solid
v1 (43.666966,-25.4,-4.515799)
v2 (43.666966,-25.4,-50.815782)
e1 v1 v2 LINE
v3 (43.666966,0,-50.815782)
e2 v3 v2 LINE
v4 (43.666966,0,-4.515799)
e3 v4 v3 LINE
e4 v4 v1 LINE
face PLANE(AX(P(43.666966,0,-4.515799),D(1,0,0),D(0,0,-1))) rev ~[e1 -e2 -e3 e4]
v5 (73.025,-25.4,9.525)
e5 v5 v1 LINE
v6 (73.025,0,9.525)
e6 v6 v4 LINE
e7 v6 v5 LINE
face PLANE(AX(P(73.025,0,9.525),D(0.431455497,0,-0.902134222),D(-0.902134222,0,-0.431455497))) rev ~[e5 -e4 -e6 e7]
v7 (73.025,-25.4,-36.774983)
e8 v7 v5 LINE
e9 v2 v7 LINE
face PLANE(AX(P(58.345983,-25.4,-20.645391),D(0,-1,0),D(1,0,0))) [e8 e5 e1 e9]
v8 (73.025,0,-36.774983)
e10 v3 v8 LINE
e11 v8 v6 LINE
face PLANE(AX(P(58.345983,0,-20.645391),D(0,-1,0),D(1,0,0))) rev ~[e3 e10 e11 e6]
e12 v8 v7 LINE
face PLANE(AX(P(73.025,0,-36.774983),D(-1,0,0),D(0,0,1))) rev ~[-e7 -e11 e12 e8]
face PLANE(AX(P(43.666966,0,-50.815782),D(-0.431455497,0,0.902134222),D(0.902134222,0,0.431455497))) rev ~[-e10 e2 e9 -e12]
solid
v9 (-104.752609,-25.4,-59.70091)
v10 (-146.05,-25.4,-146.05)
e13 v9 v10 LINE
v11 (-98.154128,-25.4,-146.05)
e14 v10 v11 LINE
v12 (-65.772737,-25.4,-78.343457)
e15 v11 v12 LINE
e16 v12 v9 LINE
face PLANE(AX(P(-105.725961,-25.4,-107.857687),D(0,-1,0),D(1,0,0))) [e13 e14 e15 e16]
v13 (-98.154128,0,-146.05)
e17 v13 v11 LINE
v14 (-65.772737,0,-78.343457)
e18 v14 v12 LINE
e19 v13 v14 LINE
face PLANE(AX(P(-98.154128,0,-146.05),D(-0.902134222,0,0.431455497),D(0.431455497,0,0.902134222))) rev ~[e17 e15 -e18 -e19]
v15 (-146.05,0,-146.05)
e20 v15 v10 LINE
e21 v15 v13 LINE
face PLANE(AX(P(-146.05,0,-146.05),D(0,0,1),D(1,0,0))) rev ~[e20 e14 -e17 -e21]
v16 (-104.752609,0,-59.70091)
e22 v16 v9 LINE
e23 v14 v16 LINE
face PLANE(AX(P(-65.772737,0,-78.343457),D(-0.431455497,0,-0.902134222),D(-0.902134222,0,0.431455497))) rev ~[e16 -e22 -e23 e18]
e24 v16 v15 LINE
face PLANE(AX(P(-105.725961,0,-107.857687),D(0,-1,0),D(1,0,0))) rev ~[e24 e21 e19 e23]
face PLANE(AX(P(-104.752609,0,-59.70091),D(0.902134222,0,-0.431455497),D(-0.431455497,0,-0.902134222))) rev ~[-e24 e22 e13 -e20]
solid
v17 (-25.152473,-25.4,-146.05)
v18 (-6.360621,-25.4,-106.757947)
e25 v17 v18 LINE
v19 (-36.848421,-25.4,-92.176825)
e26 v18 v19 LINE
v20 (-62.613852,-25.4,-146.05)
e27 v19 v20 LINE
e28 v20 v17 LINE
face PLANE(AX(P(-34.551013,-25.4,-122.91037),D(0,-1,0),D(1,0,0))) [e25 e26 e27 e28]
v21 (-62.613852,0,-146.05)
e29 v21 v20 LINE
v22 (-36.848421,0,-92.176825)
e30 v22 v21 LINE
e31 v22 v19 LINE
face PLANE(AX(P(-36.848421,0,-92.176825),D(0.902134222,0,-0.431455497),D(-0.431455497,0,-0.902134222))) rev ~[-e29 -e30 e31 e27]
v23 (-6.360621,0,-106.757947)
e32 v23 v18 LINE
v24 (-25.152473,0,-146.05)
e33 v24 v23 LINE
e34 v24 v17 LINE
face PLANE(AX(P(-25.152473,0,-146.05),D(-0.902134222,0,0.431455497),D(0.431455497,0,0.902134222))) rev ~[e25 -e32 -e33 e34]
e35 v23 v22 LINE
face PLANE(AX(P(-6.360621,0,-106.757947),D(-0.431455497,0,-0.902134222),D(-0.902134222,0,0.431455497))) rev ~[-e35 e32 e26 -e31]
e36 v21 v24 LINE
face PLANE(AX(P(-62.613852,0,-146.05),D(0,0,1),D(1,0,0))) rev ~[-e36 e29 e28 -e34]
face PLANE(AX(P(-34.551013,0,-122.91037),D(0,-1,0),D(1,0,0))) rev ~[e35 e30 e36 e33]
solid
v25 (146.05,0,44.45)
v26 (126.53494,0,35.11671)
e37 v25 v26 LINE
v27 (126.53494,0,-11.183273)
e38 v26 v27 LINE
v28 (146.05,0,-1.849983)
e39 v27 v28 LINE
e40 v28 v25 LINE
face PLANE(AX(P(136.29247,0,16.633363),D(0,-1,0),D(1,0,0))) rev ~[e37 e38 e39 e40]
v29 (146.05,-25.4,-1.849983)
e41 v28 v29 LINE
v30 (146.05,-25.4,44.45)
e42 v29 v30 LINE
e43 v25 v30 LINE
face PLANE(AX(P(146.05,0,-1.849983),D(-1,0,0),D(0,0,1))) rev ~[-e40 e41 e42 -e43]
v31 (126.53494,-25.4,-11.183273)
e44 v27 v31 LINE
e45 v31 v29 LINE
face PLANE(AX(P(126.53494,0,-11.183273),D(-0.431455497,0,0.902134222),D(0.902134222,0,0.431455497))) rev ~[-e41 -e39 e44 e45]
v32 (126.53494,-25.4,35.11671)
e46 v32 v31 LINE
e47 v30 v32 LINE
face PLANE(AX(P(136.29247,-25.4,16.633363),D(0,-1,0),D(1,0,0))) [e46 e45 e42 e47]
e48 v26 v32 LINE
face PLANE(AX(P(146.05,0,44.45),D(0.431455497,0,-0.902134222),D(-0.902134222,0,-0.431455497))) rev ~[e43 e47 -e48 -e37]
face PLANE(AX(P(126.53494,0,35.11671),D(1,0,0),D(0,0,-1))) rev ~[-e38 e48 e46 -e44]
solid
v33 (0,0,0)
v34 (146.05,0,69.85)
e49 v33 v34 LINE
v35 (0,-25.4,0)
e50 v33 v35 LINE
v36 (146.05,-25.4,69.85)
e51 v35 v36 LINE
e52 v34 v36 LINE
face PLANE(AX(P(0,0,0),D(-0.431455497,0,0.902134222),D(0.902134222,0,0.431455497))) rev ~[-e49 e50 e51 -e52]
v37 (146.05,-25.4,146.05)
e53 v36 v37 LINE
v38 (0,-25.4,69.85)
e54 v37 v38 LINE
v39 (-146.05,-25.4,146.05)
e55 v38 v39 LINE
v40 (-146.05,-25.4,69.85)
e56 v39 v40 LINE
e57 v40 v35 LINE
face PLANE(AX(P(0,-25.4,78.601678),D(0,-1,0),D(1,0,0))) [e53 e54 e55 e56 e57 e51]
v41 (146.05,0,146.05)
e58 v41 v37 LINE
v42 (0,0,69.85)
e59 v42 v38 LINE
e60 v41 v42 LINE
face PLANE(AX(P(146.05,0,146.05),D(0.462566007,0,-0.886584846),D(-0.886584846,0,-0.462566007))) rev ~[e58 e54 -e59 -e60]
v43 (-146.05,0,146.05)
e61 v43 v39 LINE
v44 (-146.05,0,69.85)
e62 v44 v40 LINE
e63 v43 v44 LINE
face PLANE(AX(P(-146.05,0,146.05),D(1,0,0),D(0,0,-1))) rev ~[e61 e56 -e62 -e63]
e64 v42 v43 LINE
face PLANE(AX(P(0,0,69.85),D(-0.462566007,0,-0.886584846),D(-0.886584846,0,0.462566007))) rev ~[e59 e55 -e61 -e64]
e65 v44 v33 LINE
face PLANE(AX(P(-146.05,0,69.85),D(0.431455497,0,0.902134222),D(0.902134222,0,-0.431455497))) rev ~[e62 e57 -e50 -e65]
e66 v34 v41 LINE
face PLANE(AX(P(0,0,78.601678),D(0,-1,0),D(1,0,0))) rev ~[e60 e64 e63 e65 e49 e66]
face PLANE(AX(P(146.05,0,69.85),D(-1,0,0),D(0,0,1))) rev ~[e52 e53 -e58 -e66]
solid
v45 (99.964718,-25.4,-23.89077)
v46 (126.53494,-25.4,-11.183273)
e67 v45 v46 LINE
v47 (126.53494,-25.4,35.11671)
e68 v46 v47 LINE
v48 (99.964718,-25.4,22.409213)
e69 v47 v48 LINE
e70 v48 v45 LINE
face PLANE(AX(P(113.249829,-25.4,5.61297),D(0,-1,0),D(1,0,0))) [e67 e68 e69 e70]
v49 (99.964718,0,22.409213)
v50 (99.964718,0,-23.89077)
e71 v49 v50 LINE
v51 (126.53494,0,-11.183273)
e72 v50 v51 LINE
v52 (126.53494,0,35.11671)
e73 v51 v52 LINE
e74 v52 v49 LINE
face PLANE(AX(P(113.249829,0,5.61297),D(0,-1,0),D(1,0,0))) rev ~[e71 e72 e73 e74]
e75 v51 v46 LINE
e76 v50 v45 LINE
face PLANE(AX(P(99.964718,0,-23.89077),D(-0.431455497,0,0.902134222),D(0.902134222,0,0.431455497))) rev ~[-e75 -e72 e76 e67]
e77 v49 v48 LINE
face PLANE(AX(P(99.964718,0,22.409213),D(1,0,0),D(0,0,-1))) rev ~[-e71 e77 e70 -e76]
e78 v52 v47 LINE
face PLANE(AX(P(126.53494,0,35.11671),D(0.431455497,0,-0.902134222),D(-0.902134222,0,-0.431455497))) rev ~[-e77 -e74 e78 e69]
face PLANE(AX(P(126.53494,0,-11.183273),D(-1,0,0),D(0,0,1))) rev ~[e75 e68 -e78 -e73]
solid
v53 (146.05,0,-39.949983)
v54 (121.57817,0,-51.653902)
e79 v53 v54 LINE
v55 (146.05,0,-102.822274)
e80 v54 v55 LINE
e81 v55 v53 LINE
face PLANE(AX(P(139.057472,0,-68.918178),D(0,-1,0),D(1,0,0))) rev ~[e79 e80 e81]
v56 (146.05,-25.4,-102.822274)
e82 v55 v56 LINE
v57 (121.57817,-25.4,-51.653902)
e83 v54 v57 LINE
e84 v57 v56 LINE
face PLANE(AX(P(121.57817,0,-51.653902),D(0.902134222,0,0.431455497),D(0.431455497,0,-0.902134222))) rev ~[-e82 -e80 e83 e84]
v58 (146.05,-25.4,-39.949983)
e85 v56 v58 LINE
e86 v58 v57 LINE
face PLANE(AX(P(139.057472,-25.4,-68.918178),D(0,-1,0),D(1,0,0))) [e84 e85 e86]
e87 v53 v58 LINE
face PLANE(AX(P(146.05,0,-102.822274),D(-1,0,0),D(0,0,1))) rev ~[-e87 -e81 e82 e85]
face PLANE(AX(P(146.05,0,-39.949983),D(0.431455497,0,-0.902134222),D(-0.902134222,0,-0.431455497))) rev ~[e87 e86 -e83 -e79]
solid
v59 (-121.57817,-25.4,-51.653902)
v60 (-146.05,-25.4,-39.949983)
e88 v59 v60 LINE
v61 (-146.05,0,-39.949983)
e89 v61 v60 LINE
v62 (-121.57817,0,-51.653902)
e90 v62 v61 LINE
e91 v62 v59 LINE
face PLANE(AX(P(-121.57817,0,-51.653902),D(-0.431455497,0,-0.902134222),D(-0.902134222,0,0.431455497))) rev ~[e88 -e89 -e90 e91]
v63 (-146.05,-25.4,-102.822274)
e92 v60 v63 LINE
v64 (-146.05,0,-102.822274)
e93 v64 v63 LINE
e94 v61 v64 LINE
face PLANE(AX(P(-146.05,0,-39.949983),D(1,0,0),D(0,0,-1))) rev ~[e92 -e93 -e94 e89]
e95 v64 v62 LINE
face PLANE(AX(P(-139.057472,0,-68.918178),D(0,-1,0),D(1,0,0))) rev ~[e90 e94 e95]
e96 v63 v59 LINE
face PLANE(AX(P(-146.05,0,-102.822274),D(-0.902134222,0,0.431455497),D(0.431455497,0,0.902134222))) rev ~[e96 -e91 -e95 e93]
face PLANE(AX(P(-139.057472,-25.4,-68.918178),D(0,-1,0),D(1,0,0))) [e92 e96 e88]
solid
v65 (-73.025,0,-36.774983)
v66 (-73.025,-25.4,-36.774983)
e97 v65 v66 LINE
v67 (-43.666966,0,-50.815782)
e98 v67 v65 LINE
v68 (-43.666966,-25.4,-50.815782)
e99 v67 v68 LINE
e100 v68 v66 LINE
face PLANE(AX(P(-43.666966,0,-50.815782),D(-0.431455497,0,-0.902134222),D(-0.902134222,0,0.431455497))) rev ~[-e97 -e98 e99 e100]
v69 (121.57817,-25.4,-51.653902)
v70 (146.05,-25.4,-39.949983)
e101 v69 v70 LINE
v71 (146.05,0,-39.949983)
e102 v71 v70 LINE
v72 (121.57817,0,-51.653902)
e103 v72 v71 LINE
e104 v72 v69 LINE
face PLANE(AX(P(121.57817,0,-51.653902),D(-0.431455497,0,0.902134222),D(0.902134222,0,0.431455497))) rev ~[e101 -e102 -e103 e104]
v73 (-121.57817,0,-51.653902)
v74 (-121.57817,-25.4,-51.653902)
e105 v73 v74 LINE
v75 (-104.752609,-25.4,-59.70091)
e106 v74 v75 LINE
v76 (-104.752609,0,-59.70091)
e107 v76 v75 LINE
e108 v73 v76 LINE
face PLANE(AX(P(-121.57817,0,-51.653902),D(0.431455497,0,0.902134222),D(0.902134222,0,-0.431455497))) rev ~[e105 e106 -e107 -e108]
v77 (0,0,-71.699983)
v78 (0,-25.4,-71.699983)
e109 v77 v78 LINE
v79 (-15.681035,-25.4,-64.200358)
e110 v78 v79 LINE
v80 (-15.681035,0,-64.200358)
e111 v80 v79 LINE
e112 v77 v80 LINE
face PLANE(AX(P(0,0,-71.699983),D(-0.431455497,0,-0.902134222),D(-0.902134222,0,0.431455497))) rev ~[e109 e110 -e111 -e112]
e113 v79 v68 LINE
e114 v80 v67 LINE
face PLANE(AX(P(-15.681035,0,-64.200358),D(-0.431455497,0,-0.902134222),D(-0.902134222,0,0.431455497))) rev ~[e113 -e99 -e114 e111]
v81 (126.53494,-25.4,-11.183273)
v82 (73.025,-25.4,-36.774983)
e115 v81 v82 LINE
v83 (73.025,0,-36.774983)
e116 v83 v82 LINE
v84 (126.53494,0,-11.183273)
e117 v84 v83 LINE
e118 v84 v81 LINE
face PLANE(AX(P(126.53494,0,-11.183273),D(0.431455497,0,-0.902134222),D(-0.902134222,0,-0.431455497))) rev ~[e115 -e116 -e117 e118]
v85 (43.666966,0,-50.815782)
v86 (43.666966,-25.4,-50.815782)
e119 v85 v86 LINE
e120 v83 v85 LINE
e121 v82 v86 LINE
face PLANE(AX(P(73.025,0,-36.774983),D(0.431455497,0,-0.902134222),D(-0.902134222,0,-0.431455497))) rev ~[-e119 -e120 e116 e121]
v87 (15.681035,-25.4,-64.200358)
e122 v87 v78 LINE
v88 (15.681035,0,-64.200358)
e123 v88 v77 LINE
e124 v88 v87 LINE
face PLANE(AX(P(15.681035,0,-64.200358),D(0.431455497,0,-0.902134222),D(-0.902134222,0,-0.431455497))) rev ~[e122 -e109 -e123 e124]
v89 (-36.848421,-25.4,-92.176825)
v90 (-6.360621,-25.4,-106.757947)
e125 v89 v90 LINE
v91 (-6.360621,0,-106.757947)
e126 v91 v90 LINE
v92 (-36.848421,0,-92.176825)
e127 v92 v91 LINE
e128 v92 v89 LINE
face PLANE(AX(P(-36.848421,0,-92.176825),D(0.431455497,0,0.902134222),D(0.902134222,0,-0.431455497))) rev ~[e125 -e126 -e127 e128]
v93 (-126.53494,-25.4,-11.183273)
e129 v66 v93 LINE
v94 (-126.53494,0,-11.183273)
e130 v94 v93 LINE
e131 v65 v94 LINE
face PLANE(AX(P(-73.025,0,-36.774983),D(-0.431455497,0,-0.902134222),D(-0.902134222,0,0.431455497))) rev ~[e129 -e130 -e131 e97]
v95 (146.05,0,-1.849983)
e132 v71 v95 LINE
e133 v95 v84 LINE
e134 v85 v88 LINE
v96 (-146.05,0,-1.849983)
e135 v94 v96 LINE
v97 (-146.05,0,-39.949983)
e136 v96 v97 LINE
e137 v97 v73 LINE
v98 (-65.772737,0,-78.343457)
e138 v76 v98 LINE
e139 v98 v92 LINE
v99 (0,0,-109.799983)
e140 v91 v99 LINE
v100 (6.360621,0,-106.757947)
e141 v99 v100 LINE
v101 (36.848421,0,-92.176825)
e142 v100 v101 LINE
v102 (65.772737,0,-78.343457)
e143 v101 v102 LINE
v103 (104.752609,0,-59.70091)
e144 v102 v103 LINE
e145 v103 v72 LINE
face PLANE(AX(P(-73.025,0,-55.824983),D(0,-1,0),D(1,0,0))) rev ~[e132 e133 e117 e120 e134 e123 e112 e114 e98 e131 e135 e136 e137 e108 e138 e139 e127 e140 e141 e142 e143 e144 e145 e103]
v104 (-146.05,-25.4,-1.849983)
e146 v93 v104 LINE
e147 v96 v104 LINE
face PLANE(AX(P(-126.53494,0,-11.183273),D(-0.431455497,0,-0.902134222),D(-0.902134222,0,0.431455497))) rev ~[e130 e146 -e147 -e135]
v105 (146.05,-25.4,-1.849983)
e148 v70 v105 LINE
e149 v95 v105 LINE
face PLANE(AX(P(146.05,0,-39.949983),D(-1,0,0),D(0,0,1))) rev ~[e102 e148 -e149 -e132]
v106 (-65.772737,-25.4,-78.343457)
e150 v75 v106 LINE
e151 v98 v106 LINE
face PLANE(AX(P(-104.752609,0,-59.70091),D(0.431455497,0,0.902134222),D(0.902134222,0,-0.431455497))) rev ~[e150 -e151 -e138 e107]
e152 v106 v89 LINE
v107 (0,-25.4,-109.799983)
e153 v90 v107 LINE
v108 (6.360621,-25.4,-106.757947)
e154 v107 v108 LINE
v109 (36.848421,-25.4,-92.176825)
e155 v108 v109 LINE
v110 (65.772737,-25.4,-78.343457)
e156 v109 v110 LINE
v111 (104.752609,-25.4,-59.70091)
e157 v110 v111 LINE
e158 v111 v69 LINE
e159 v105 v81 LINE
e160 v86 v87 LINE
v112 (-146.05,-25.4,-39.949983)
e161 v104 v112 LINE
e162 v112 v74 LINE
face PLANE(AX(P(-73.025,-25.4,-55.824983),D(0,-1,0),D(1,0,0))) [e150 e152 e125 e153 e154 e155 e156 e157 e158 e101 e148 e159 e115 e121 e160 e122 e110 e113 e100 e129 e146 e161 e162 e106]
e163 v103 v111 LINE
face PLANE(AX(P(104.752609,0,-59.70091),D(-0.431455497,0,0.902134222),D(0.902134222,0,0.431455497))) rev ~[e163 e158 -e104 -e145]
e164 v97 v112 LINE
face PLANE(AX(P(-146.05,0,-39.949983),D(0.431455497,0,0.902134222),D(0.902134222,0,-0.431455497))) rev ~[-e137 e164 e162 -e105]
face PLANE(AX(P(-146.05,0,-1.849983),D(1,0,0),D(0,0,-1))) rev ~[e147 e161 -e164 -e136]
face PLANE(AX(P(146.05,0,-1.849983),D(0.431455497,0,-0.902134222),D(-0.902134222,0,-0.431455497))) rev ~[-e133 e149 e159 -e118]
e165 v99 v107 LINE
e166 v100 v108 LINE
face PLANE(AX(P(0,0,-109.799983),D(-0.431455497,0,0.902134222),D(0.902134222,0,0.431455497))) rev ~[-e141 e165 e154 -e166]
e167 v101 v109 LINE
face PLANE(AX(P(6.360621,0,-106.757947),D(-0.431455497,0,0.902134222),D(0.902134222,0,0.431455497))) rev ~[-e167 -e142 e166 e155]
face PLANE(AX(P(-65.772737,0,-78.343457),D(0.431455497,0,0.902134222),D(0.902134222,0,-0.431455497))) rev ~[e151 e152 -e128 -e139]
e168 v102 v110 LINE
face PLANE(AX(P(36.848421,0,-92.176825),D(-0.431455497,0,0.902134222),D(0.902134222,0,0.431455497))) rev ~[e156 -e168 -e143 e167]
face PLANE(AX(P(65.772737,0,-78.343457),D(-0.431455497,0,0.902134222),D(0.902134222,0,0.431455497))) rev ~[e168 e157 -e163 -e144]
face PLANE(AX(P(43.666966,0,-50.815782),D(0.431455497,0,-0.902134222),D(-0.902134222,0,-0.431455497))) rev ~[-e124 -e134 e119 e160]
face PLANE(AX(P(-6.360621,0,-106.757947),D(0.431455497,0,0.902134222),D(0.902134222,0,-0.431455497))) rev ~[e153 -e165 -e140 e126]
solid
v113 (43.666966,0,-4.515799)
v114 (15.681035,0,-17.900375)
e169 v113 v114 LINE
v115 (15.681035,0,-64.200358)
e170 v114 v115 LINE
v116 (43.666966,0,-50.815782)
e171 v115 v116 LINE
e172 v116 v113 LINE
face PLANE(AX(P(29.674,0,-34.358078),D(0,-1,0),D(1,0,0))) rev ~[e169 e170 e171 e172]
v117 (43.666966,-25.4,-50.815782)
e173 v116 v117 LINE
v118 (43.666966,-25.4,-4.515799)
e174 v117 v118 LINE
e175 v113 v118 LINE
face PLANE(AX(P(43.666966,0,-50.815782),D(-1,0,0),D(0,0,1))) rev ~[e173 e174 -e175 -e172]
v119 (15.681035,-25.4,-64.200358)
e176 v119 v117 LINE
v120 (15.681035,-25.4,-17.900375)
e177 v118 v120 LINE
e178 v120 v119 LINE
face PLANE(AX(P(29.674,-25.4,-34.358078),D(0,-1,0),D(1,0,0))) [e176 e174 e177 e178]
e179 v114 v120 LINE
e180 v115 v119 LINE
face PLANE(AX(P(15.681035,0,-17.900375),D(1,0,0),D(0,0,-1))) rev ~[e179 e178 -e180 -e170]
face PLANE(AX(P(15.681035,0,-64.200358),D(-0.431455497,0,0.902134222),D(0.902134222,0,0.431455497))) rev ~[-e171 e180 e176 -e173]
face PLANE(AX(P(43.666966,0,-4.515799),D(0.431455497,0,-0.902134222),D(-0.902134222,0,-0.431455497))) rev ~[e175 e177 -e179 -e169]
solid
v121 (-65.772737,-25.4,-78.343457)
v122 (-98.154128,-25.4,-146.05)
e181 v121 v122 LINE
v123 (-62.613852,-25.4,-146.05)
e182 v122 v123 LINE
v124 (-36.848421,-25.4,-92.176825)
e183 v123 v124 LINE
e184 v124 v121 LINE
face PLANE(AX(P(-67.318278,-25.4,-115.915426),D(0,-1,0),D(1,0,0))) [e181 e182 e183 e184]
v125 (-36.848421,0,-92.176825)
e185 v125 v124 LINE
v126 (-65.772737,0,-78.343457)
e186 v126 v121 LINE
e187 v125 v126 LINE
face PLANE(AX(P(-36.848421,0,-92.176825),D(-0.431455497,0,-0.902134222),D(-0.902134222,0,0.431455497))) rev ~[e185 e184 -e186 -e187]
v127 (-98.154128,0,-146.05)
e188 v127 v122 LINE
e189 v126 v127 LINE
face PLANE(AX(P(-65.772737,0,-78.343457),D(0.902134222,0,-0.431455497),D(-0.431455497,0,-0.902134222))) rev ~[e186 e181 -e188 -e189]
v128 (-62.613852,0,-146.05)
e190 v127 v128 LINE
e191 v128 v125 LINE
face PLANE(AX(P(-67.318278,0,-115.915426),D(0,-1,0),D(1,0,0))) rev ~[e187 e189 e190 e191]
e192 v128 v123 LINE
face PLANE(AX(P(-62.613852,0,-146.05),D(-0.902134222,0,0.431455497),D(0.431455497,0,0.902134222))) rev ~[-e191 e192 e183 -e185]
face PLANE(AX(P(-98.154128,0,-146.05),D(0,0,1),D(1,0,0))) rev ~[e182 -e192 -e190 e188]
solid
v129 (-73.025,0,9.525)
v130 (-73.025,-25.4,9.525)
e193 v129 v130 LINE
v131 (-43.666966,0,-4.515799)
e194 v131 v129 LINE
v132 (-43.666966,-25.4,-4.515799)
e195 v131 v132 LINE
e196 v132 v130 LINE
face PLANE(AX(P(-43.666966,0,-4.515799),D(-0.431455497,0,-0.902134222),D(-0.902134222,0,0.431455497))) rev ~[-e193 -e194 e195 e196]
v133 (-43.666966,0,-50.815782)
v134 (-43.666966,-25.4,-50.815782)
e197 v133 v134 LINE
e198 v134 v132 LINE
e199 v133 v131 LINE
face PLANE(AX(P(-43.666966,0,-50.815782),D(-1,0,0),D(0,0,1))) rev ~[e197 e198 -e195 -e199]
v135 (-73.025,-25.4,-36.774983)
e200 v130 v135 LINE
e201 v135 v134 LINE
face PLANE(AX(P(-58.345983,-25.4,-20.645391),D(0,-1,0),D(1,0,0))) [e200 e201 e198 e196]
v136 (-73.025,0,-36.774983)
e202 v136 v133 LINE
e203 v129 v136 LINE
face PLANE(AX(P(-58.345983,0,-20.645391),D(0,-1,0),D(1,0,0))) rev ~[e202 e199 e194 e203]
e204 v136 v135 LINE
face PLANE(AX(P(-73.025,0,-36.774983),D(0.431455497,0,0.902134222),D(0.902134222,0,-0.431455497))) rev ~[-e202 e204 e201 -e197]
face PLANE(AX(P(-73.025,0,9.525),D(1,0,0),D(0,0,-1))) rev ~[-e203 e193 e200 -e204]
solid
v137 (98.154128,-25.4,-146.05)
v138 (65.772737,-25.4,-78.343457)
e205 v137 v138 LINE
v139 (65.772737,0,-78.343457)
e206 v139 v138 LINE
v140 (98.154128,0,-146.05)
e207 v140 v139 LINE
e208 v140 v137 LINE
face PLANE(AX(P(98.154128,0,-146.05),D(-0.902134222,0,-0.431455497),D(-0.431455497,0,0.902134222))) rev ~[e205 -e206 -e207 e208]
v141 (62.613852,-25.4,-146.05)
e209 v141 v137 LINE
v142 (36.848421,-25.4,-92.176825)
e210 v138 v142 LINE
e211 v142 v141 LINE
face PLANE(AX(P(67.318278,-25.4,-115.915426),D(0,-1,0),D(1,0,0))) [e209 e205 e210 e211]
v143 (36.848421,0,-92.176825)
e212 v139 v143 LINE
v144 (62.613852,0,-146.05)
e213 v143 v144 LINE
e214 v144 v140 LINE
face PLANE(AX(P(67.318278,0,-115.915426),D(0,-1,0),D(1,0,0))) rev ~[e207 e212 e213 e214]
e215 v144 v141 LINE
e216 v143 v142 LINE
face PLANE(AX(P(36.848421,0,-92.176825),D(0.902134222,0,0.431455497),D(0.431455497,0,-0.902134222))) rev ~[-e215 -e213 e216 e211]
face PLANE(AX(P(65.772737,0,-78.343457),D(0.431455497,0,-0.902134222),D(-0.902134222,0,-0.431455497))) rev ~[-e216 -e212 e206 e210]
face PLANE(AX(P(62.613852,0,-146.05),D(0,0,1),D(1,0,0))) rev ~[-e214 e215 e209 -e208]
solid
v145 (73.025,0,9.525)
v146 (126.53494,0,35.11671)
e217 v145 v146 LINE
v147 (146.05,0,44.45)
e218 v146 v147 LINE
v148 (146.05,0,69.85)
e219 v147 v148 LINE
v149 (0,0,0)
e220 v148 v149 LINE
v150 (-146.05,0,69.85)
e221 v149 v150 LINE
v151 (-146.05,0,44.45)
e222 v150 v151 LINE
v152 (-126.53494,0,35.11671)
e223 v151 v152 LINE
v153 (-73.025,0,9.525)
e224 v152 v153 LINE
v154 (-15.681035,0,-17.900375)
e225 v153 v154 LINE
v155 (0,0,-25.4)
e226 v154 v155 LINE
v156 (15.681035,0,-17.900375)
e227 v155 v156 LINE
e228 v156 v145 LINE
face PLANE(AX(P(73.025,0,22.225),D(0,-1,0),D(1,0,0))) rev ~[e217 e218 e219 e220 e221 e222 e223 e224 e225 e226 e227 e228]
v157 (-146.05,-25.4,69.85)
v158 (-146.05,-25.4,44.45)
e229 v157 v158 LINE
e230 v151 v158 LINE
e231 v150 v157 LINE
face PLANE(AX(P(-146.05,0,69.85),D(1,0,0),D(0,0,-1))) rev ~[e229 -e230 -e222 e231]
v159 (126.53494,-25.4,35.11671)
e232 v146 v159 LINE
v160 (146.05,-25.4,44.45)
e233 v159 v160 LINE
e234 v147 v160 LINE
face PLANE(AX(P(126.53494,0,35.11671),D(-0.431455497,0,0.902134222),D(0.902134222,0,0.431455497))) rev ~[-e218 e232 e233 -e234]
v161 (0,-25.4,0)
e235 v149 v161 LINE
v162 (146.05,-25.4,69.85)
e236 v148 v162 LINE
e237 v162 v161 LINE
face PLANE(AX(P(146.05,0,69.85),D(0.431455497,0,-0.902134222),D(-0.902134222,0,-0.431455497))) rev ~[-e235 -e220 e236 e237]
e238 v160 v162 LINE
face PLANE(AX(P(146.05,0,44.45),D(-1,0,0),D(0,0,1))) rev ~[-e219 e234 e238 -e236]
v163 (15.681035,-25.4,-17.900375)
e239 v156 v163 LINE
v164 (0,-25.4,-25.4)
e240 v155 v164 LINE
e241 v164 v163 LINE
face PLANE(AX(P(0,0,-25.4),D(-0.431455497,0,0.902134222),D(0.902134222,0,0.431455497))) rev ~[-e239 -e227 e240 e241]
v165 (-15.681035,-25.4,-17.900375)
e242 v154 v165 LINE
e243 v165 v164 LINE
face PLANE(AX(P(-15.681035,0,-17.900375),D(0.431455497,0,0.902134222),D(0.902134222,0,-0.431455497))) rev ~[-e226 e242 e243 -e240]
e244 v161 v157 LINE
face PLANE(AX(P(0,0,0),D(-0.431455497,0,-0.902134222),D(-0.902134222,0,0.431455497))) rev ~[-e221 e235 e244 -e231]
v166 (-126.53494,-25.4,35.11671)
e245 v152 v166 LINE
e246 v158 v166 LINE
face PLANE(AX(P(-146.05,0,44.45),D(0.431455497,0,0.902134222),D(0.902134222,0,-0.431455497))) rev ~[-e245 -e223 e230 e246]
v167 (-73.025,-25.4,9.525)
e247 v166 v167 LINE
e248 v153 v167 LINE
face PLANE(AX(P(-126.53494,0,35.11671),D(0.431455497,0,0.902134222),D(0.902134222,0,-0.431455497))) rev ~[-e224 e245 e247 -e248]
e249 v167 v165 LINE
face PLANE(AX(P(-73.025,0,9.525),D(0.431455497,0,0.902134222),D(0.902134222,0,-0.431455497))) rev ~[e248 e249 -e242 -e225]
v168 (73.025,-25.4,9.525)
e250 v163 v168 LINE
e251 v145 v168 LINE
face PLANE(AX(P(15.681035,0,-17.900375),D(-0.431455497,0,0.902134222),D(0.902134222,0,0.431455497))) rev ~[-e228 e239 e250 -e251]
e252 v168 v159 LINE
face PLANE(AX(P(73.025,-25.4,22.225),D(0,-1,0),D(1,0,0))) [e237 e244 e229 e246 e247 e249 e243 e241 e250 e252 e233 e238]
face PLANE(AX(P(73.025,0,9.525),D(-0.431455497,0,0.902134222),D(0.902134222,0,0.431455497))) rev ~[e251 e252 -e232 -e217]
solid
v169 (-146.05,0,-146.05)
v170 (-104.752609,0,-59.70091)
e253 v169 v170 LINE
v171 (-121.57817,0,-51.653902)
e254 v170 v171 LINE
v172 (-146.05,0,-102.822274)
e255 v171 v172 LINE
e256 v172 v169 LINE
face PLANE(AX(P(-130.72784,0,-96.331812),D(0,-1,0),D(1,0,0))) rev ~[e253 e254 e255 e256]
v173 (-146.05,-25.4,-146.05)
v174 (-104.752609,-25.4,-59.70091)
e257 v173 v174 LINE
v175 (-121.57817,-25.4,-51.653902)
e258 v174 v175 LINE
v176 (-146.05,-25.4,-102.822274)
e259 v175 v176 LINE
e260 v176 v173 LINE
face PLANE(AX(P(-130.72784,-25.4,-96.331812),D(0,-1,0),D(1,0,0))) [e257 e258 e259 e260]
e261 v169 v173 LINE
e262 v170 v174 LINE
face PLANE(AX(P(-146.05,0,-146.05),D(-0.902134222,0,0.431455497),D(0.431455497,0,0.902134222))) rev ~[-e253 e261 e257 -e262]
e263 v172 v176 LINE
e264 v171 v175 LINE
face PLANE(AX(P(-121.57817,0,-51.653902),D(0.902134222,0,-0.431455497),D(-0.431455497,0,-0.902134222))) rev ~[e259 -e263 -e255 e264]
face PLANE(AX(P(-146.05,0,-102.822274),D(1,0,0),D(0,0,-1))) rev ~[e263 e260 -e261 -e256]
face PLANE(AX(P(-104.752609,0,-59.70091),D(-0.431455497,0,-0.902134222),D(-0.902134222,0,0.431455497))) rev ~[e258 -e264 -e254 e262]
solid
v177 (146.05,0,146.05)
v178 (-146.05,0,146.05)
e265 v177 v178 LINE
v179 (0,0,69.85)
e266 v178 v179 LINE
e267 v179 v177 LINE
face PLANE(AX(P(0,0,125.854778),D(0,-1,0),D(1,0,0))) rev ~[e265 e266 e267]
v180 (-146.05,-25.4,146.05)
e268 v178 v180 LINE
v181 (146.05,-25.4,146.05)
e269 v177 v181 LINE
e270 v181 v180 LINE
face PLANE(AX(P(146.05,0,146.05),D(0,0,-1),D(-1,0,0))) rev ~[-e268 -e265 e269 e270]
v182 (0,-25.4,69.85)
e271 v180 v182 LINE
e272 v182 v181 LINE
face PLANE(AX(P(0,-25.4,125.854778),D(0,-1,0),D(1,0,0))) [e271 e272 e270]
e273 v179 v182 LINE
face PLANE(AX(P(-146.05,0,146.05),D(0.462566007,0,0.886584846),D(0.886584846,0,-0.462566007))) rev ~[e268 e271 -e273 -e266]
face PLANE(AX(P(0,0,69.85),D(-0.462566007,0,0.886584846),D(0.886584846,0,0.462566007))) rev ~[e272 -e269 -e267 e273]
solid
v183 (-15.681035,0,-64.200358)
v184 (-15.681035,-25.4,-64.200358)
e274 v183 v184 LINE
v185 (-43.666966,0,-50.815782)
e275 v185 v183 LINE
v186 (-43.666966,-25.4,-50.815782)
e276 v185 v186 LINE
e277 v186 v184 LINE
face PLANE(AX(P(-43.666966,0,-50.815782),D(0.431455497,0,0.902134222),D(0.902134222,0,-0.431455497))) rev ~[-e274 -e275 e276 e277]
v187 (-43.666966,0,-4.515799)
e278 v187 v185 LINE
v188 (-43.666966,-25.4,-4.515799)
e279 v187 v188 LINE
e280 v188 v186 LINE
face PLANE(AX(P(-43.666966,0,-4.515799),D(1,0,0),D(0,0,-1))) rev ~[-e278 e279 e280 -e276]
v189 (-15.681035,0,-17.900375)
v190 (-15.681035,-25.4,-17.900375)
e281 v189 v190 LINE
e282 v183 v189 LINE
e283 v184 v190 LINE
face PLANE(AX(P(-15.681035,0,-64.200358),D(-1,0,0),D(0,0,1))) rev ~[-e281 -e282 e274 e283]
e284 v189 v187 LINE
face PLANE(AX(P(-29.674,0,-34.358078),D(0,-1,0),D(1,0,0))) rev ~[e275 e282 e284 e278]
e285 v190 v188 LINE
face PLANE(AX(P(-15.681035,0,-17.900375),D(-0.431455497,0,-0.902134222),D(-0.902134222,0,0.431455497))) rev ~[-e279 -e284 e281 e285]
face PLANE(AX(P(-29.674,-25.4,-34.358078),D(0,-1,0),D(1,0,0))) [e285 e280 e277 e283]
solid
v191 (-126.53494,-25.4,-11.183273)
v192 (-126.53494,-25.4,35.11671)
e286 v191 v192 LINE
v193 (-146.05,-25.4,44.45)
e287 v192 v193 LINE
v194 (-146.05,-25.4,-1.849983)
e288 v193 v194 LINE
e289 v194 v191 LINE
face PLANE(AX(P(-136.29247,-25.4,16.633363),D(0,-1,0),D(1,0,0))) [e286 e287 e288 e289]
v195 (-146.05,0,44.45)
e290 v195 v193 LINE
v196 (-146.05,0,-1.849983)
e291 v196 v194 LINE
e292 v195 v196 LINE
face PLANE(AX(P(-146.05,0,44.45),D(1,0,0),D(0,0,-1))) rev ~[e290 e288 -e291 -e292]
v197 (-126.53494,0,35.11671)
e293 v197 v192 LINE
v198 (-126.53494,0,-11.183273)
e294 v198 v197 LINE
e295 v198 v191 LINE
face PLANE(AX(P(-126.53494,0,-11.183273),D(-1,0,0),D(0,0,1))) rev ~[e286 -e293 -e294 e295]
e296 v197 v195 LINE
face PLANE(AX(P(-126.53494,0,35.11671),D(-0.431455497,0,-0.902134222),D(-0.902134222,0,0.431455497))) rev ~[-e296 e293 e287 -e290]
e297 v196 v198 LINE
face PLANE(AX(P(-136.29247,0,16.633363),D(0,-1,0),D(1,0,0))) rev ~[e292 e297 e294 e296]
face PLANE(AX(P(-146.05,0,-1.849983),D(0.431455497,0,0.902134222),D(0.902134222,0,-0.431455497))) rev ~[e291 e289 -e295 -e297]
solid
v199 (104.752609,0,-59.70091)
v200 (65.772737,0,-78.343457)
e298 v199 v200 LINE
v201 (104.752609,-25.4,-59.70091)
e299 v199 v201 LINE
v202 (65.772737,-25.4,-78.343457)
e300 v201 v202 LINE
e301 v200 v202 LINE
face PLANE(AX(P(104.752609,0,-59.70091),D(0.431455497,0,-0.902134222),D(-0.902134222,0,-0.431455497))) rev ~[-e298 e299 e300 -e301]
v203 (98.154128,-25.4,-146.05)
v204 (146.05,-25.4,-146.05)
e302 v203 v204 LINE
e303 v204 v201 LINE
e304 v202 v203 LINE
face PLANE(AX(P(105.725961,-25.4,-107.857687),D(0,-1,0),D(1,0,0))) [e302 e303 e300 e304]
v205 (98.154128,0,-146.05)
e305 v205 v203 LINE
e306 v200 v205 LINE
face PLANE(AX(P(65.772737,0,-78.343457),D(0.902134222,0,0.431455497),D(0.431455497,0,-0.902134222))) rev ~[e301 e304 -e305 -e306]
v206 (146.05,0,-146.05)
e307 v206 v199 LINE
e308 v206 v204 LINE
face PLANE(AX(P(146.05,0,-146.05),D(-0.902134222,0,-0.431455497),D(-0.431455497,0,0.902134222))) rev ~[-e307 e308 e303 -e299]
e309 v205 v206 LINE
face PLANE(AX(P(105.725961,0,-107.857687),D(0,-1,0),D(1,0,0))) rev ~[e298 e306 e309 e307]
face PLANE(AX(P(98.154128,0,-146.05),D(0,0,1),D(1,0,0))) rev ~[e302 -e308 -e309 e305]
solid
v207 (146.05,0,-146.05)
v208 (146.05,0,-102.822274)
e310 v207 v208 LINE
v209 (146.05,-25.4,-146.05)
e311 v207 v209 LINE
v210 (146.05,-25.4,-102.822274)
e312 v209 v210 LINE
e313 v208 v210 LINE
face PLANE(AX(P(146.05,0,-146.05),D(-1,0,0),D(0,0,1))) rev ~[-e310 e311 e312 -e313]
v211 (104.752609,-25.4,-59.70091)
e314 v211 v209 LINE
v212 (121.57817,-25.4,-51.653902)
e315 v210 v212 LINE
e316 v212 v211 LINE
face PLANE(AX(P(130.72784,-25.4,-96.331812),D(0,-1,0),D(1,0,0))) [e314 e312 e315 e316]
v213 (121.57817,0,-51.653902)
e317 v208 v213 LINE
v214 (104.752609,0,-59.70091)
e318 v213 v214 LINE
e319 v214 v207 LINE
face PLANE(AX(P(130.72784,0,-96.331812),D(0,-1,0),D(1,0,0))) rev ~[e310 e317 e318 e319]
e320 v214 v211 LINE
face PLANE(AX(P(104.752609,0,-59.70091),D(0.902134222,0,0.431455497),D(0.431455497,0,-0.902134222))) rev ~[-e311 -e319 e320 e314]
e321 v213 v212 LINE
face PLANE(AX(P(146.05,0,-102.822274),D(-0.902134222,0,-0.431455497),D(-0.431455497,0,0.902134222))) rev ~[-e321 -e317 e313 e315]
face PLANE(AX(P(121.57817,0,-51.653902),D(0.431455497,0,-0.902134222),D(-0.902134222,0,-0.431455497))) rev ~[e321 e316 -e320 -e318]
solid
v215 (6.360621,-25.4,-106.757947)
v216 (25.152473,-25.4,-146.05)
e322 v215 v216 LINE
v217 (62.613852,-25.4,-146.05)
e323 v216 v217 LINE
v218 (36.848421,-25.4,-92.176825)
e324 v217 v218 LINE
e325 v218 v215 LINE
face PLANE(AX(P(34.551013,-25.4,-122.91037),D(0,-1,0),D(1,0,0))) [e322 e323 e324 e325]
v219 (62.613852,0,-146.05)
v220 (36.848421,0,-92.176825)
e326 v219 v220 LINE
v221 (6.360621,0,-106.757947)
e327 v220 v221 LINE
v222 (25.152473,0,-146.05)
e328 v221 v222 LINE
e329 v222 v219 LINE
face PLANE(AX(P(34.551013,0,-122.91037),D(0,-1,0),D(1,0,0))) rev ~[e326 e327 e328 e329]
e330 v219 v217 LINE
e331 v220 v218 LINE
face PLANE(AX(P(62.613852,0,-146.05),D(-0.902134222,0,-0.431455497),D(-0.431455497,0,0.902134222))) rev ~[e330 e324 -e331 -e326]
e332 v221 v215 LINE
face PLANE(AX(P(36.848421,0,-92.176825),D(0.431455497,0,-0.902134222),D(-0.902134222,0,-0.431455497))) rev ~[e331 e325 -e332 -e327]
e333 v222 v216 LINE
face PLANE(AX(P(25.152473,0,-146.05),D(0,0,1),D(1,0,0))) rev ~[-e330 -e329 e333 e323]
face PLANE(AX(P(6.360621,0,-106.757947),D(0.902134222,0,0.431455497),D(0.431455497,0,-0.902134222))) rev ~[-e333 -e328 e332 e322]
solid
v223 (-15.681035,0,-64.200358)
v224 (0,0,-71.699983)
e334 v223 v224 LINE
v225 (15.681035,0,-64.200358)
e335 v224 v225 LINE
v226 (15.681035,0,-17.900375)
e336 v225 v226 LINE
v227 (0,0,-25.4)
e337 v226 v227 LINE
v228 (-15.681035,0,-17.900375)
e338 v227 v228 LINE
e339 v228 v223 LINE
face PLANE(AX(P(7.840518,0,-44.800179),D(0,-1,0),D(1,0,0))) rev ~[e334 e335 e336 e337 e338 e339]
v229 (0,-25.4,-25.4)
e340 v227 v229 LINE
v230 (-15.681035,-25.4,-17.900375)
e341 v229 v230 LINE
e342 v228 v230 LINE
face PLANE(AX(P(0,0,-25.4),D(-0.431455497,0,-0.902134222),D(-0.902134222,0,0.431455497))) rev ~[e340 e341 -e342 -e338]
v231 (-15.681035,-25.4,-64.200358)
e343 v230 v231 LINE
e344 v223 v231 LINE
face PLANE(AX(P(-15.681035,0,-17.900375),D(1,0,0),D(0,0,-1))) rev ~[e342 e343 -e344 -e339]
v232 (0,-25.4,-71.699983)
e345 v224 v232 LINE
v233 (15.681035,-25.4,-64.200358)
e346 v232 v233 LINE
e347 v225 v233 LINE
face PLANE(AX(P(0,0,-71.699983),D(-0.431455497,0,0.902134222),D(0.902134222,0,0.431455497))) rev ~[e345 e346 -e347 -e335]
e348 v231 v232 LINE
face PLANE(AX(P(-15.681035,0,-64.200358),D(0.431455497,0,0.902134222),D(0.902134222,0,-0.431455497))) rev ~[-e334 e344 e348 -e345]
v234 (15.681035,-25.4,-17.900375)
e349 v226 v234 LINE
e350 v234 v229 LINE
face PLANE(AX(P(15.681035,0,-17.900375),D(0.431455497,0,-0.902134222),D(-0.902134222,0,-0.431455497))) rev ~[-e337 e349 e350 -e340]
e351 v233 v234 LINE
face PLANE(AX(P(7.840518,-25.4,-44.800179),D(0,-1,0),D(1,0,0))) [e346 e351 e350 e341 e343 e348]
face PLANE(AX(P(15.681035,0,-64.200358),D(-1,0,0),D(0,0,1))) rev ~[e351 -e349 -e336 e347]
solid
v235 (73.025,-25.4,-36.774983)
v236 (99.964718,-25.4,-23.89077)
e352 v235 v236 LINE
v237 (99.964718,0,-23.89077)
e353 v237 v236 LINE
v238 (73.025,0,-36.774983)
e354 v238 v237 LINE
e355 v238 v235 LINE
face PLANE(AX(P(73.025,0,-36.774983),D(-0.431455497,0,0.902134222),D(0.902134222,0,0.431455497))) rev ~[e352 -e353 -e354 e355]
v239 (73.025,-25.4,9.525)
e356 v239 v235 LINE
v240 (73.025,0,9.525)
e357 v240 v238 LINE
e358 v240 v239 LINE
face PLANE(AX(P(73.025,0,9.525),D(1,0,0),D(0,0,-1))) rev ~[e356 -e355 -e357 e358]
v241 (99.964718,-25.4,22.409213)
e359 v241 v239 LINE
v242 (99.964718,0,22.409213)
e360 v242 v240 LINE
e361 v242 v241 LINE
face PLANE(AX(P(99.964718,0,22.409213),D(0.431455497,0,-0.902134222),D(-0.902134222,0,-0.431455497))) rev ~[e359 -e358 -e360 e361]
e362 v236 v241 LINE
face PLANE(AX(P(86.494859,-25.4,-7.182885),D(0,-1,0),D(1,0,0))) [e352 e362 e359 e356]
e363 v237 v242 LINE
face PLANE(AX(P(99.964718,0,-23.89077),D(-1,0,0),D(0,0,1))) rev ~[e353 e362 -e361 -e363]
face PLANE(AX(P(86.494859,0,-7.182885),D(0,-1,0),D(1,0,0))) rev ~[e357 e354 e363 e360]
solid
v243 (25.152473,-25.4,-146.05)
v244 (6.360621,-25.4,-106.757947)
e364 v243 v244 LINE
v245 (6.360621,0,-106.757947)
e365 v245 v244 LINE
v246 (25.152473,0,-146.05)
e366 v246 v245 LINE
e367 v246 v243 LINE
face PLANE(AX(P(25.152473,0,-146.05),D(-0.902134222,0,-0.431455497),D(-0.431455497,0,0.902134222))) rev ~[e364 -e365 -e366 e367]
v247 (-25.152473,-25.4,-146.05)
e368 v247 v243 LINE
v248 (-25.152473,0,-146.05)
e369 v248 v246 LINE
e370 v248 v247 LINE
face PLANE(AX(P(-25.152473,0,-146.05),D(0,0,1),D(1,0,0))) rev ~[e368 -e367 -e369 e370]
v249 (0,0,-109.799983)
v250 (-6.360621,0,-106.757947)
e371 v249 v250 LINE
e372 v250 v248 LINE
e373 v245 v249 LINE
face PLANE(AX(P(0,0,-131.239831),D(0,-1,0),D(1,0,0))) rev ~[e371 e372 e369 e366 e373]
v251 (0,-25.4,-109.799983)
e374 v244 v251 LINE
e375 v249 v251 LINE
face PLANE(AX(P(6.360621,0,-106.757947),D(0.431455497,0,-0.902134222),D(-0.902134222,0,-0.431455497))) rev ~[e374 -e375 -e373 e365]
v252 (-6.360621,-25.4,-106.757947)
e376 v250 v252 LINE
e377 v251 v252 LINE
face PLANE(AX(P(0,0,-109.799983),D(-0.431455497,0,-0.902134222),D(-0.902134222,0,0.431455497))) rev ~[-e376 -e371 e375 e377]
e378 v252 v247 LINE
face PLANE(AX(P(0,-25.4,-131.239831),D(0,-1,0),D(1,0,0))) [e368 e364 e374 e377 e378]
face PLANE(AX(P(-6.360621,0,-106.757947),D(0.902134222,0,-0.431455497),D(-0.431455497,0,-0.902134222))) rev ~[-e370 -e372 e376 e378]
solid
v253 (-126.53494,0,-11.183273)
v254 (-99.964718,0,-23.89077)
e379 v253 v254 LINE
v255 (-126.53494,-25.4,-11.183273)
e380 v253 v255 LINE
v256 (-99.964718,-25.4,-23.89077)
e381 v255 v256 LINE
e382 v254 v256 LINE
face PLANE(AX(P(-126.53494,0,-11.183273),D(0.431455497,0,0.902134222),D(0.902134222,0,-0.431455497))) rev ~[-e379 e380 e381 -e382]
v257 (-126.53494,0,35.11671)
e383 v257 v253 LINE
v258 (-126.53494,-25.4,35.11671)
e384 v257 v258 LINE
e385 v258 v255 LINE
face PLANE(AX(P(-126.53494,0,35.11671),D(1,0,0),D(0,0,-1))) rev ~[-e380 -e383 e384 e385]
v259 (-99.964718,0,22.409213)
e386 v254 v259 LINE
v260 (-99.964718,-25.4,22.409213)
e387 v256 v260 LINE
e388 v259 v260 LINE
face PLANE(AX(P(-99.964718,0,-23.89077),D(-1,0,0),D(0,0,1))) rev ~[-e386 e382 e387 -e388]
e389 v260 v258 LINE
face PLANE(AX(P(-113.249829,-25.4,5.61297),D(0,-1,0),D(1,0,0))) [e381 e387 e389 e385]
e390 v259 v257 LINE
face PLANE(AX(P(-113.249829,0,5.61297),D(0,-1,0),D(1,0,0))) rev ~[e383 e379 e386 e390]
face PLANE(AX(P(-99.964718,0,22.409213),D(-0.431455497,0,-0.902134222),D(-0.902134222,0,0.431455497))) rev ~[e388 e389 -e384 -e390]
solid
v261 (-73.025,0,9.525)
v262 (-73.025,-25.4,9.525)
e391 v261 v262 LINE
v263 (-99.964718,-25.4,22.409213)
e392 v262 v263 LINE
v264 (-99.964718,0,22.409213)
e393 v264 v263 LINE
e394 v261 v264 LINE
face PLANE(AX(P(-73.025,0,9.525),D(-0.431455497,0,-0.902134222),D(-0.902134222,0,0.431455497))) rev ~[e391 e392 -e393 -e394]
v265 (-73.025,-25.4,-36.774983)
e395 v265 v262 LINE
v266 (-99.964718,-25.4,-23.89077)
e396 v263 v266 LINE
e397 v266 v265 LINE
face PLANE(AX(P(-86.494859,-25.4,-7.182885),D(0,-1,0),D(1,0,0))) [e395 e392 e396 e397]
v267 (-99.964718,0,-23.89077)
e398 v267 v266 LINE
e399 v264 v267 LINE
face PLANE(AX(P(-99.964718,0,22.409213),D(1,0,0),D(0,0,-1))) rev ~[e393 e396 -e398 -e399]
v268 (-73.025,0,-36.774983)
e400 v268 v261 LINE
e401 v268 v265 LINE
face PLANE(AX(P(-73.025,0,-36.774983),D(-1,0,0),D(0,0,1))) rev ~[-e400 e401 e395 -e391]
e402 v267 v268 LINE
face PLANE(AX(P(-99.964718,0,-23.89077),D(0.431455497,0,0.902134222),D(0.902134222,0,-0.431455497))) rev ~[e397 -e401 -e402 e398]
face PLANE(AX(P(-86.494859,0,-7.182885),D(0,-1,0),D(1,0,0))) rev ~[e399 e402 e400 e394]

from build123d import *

# Parameters (mm, degrees)
F1_DEPTH  = 25.4
F2_DEPTH  = 25.4
F3_DEPTH  = 25.4
F4_DEPTH  = 25.4
F5_DEPTH  = 25.4
F6_DEPTH  = 25.4
F7_DEPTH  = 25.4
F8_DEPTH  = 25.4
F9_DEPTH  = 25.4
F10_DEPTH = 25.4
F11_DEPTH = 25.4
F12_DEPTH = 25.4
F13_DEPTH = 25.4
F14_DEPTH = 25.4
F15_DEPTH = 25.4
F16_DEPTH = 25.4
F17_DEPTH = 25.4
F18_DEPTH = 25.4
F19_DEPTH = 25.4
F20_DEPTH = 25.4


with BuildPart() as f1:
    # F0 (on Front) → F1 (new body)
    with BuildSketch(Plane.XZ):
        Polygon((0, 69.85), (-146.05, 146.05), (-146.05, 69.85), (0, 0), (146.05, 69.85), (146.05, 146.05), align=None)
    extrude(amount=F1_DEPTH)


with BuildPart() as f2:
    # F0 (on Front) → F2 (new body)
    with BuildSketch(Plane.XZ):
        Polygon((146.05, 146.05), (-146.05, 146.05), (0, 69.85), align=None)
    extrude(amount=F2_DEPTH)


with BuildPart() as f3:
    # F0 (on Front) → F3 (new body)
    with BuildSketch(Plane.XZ):
        Polygon((146.05, 44.45), (146.05, 69.85), (0, 0), (0, -25.4), (15.6810350913, -17.9003745216), (43.666965504, -4.5157991068), (73.025, 9.525), (99.9647179772, 22.4092129456), (126.5349397762, 35.1167103277), align=None)
        Polygon((0, 0), (-146.05, 69.85), (-146.05, 44.45), (-126.5349397762, 35.1167103277), (-99.9647179772, 22.4092129456), (-73.025, 9.525), (-43.666965504, -4.5157991068), (-15.6810350913, -17.9003745216), (0, -25.4), align=None)
    extrude(amount=F3_DEPTH)


with BuildPart() as f4:
    # F0 (on Front) → F4 (new body)
    with BuildSketch(Plane.XZ):
        Polygon((-126.5349397762, 35.1167103277), (-146.05, 44.45), (-146.05, -1.8499833584), (-126.5349397762, -11.1832730307), align=None)
    extrude(amount=F4_DEPTH)


with BuildPart() as f5:
    # F0 (on Front) → F5 (new body)
    with BuildSketch(Plane.XZ):
        Polygon((-99.9647179772, 22.4092129456), (-126.5349397762, 35.1167103277), (-126.5349397762, -11.1832730307), (-99.9647179772, -23.8907704128), align=None)
    extrude(amount=F5_DEPTH)


with BuildPart() as f6:
    # F0 (on Front) → F6 (new body)
    with BuildSketch(Plane.XZ):
        Polygon((-73.025, 9.525), (-99.9647179772, 22.4092129456), (-99.9647179772, -23.8907704128), (-73.025, -36.7749833584), align=None)
    extrude(amount=F6_DEPTH)


with BuildPart() as f7:
    # F0 (on Front) → F7 (new body)
    with BuildSketch(Plane.XZ):
        Polygon((-43.666965504, -4.5157991068), (-73.025, 9.525), (-73.025, -36.7749833584), (-43.666965504, -50.8157824652), align=None)
    extrude(amount=F7_DEPTH)


with BuildPart() as f8:
    # F0 (on Front) → F8 (new body)
    with BuildSketch(Plane.XZ):
        Polygon((-15.6810350913, -64.2003578799), (-15.6810350913, -17.9003745216), (-43.666965504, -4.5157991068), (-43.666965504, -50.8157824652), align=None)
    extrude(amount=F8_DEPTH)


with BuildPart() as f9:
    # F0 (on Front) → F9 (new body)
    with BuildSketch(Plane.XZ):
        Polygon((15.6810350913, -17.9003745216), (0, -25.4), (0, -71.6999833584), (15.6810350913, -64.2003578799), align=None)
        Polygon((0, -71.6999833584), (0, -25.4), (-15.6810350913, -17.9003745216), (-15.6810350913, -64.2003578799), align=None)
    extrude(amount=F9_DEPTH)


with BuildPart() as f10:
    # F0 (on Front) → F10 (new body)
    with BuildSketch(Plane.XZ):
        Polygon((43.666965504, -4.5157991068), (15.6810350913, -17.9003745216), (15.6810350913, -64.2003578799), (43.666965504, -50.8157824652), align=None)
    extrude(amount=F10_DEPTH)


with BuildPart() as f11:
    # F0 (on Front) → F11 (new body)
    with BuildSketch(Plane.XZ):
        Polygon((73.025, 9.525), (43.666965504, -4.5157991068), (43.666965504, -50.8157824652), (73.025, -36.7749833584), align=None)
    extrude(amount=F11_DEPTH)


with BuildPart() as f12:
    # F0 (on Front) → F12 (new body)
    with BuildSketch(Plane.XZ):
        Polygon((99.9647179772, -23.8907704128), (99.9647179772, 22.4092129456), (73.025, 9.525), (73.025, -36.7749833584), align=None)
    extrude(amount=F12_DEPTH)


with BuildPart() as f13:
    # F0 (on Front) → F13 (new body)
    with BuildSketch(Plane.XZ):
        Polygon((126.5349397762, -11.1832730307), (126.5349397762, 35.1167103277), (99.9647179772, 22.4092129456), (99.9647179772, -23.8907704128), align=None)
    extrude(amount=F13_DEPTH)


with BuildPart() as f14:
    # F0 (on Front) → F14 (new body)
    with BuildSketch(Plane.XZ):
        Polygon((146.05, -1.8499833584), (146.05, 44.45), (126.5349397762, 35.1167103277), (126.5349397762, -11.1832730307), align=None)
    extrude(amount=F14_DEPTH)


with BuildPart() as f15:
    # F0 (on Front) → F15 (new body)
    with BuildSketch(Plane.XZ):
        Polygon((-126.5349397762, -11.1832730307), (-146.05, -1.8499833584), (-146.05, -39.9499833584), (-121.5781699621, -51.6539020722), (-104.7526089072, -59.7009095332), (-65.7727373676, -78.3434567913), (-36.8484210278, -92.1768254755), (-6.360621369, -106.7579470515), (0, -109.7999833584), (0, -71.6999833584), (-15.6810350913, -64.2003578799), (-43.666965504, -50.8157824652), (-73.025, -36.7749833584), (-99.9647179772, -23.8907704128), align=None)
        Polygon((146.05, -39.9499833584), (146.05, -1.8499833584), (126.5349397762, -11.1832730307), (99.9647179772, -23.8907704128), (73.025, -36.7749833584), (43.666965504, -50.8157824652), (15.6810350913, -64.2003578799), (0, -71.6999833584), (0, -109.7999833584), (6.360621369, -106.7579470515), (36.8484210278, -92.1768254755), (65.7727373676, -78.3434567913), (104.7526089072, -59.7009095332), (121.5781699621, -51.6539020722), align=None)
    extrude(amount=F15_DEPTH)


with BuildPart() as f16:
    # F0 (on Front) → F16 (new body)
    with BuildSketch(Plane.XZ):
        Polygon((-121.5781699621, -51.6539020722), (-146.05, -39.9499833584), (-146.05, -102.8222739697), align=None)
    extrude(amount=F16_DEPTH)


with BuildPart() as f17:
    # F0 (on Front) → F17 (new body)
    with BuildSketch(Plane.XZ):
        Polygon((-121.5781699621, -51.6539020722), (-146.05, -102.8222739697), (-146.05, -146.05), (-104.7526089072, -59.7009095332), align=None)
    extrude(amount=F17_DEPTH)


with BuildPart() as f18:
    # F0 (on Front) → F18 (new body)
    with BuildSketch(Plane.XZ):
        Polygon((-104.7526089072, -59.7009095332), (-146.05, -146.05), (-98.1541275978, -146.05), (-65.7727373676, -78.3434567913), align=None)
    extrude(amount=F18_DEPTH)


with BuildPart() as f19:
    # F0 (on Front) → F19 (new body)
    with BuildSketch(Plane.XZ):
        Polygon((-65.7727373676, -78.3434567913), (-98.1541275978, -146.05), (-62.6138523221, -146.05), (-36.8484210278, -92.1768254755), align=None)
    extrude(amount=F19_DEPTH)


with BuildPart() as f19b:
    # F0 (on Front) → F19, piece 2 (new body)
    with BuildSketch(Plane.XZ):
        Polygon((6.360621369, -106.7579470515), (0, -109.7999833584), (-6.360621369, -106.7579470515), (-25.1524727792, -146.05), (25.1524727792, -146.05), align=None)
    extrude(amount=F19_DEPTH)


with BuildPart() as f19c:
    # F0 (on Front) → F19, piece 3 (new body)
    with BuildSketch(Plane.XZ):
        Polygon((65.7727373676, -78.3434567913), (36.8484210278, -92.1768254755), (62.6138523221, -146.05), (98.1541275978, -146.05), align=None)
    extrude(amount=F19_DEPTH)


with BuildPart() as f19d:
    # F0 (on Front) → F19, piece 4 (new body)
    with BuildSketch(Plane.XZ):
        Polygon((146.05, -146.05), (146.05, -102.8222739697), (121.5781699621, -51.6539020722), (104.7526089072, -59.7009095332), align=None)
    extrude(amount=F19_DEPTH)


with BuildPart() as f20:
    # F0 (on Front) → F20 (new body)
    with BuildSketch(Plane.XZ):
        Polygon((-25.1524727792, -146.05), (-6.360621369, -106.7579470515), (-36.8484210278, -92.1768254755), (-62.6138523221, -146.05), align=None)
    extrude(amount=F20_DEPTH)


with BuildPart() as f20b:
    # F0 (on Front) → F20, piece 2 (new body)
    with BuildSketch(Plane.XZ):
        Polygon((36.8484210278, -92.1768254755), (6.360621369, -106.7579470515), (25.1524727792, -146.05), (62.6138523221, -146.05), align=None)
    extrude(amount=F20_DEPTH)


with BuildPart() as f20c:
    # F0 (on Front) → F20, piece 3 (new body)
    with BuildSketch(Plane.XZ):
        Polygon((98.1541275978, -146.05), (146.05, -146.05), (104.7526089072, -59.7009095332), (65.7727373676, -78.3434567913), align=None)
    extrude(amount=F20_DEPTH)


with BuildPart() as f20d:
    # F0 (on Front) → F20, piece 4 (new body)
    with BuildSketch(Plane.XZ):
        Polygon((146.05, -102.8222739697), (146.05, -39.9499833584), (121.5781699621, -51.6539020722), align=None)
    extrude(amount=F20_DEPTH)


solid = Compound([f1.part, f2.part, f3.part, f4.part, f5.part, f6.part, f7.part, f8.part, f9.part, f10.part, f11.part, f12.part, f13.part, f14.part, f15.part, f16.part, f17.part, f18.part, f19.part, f19b.part, f19c.part, f19d.part, f20.part, f20b.part, f20c.part, f20d.part])
